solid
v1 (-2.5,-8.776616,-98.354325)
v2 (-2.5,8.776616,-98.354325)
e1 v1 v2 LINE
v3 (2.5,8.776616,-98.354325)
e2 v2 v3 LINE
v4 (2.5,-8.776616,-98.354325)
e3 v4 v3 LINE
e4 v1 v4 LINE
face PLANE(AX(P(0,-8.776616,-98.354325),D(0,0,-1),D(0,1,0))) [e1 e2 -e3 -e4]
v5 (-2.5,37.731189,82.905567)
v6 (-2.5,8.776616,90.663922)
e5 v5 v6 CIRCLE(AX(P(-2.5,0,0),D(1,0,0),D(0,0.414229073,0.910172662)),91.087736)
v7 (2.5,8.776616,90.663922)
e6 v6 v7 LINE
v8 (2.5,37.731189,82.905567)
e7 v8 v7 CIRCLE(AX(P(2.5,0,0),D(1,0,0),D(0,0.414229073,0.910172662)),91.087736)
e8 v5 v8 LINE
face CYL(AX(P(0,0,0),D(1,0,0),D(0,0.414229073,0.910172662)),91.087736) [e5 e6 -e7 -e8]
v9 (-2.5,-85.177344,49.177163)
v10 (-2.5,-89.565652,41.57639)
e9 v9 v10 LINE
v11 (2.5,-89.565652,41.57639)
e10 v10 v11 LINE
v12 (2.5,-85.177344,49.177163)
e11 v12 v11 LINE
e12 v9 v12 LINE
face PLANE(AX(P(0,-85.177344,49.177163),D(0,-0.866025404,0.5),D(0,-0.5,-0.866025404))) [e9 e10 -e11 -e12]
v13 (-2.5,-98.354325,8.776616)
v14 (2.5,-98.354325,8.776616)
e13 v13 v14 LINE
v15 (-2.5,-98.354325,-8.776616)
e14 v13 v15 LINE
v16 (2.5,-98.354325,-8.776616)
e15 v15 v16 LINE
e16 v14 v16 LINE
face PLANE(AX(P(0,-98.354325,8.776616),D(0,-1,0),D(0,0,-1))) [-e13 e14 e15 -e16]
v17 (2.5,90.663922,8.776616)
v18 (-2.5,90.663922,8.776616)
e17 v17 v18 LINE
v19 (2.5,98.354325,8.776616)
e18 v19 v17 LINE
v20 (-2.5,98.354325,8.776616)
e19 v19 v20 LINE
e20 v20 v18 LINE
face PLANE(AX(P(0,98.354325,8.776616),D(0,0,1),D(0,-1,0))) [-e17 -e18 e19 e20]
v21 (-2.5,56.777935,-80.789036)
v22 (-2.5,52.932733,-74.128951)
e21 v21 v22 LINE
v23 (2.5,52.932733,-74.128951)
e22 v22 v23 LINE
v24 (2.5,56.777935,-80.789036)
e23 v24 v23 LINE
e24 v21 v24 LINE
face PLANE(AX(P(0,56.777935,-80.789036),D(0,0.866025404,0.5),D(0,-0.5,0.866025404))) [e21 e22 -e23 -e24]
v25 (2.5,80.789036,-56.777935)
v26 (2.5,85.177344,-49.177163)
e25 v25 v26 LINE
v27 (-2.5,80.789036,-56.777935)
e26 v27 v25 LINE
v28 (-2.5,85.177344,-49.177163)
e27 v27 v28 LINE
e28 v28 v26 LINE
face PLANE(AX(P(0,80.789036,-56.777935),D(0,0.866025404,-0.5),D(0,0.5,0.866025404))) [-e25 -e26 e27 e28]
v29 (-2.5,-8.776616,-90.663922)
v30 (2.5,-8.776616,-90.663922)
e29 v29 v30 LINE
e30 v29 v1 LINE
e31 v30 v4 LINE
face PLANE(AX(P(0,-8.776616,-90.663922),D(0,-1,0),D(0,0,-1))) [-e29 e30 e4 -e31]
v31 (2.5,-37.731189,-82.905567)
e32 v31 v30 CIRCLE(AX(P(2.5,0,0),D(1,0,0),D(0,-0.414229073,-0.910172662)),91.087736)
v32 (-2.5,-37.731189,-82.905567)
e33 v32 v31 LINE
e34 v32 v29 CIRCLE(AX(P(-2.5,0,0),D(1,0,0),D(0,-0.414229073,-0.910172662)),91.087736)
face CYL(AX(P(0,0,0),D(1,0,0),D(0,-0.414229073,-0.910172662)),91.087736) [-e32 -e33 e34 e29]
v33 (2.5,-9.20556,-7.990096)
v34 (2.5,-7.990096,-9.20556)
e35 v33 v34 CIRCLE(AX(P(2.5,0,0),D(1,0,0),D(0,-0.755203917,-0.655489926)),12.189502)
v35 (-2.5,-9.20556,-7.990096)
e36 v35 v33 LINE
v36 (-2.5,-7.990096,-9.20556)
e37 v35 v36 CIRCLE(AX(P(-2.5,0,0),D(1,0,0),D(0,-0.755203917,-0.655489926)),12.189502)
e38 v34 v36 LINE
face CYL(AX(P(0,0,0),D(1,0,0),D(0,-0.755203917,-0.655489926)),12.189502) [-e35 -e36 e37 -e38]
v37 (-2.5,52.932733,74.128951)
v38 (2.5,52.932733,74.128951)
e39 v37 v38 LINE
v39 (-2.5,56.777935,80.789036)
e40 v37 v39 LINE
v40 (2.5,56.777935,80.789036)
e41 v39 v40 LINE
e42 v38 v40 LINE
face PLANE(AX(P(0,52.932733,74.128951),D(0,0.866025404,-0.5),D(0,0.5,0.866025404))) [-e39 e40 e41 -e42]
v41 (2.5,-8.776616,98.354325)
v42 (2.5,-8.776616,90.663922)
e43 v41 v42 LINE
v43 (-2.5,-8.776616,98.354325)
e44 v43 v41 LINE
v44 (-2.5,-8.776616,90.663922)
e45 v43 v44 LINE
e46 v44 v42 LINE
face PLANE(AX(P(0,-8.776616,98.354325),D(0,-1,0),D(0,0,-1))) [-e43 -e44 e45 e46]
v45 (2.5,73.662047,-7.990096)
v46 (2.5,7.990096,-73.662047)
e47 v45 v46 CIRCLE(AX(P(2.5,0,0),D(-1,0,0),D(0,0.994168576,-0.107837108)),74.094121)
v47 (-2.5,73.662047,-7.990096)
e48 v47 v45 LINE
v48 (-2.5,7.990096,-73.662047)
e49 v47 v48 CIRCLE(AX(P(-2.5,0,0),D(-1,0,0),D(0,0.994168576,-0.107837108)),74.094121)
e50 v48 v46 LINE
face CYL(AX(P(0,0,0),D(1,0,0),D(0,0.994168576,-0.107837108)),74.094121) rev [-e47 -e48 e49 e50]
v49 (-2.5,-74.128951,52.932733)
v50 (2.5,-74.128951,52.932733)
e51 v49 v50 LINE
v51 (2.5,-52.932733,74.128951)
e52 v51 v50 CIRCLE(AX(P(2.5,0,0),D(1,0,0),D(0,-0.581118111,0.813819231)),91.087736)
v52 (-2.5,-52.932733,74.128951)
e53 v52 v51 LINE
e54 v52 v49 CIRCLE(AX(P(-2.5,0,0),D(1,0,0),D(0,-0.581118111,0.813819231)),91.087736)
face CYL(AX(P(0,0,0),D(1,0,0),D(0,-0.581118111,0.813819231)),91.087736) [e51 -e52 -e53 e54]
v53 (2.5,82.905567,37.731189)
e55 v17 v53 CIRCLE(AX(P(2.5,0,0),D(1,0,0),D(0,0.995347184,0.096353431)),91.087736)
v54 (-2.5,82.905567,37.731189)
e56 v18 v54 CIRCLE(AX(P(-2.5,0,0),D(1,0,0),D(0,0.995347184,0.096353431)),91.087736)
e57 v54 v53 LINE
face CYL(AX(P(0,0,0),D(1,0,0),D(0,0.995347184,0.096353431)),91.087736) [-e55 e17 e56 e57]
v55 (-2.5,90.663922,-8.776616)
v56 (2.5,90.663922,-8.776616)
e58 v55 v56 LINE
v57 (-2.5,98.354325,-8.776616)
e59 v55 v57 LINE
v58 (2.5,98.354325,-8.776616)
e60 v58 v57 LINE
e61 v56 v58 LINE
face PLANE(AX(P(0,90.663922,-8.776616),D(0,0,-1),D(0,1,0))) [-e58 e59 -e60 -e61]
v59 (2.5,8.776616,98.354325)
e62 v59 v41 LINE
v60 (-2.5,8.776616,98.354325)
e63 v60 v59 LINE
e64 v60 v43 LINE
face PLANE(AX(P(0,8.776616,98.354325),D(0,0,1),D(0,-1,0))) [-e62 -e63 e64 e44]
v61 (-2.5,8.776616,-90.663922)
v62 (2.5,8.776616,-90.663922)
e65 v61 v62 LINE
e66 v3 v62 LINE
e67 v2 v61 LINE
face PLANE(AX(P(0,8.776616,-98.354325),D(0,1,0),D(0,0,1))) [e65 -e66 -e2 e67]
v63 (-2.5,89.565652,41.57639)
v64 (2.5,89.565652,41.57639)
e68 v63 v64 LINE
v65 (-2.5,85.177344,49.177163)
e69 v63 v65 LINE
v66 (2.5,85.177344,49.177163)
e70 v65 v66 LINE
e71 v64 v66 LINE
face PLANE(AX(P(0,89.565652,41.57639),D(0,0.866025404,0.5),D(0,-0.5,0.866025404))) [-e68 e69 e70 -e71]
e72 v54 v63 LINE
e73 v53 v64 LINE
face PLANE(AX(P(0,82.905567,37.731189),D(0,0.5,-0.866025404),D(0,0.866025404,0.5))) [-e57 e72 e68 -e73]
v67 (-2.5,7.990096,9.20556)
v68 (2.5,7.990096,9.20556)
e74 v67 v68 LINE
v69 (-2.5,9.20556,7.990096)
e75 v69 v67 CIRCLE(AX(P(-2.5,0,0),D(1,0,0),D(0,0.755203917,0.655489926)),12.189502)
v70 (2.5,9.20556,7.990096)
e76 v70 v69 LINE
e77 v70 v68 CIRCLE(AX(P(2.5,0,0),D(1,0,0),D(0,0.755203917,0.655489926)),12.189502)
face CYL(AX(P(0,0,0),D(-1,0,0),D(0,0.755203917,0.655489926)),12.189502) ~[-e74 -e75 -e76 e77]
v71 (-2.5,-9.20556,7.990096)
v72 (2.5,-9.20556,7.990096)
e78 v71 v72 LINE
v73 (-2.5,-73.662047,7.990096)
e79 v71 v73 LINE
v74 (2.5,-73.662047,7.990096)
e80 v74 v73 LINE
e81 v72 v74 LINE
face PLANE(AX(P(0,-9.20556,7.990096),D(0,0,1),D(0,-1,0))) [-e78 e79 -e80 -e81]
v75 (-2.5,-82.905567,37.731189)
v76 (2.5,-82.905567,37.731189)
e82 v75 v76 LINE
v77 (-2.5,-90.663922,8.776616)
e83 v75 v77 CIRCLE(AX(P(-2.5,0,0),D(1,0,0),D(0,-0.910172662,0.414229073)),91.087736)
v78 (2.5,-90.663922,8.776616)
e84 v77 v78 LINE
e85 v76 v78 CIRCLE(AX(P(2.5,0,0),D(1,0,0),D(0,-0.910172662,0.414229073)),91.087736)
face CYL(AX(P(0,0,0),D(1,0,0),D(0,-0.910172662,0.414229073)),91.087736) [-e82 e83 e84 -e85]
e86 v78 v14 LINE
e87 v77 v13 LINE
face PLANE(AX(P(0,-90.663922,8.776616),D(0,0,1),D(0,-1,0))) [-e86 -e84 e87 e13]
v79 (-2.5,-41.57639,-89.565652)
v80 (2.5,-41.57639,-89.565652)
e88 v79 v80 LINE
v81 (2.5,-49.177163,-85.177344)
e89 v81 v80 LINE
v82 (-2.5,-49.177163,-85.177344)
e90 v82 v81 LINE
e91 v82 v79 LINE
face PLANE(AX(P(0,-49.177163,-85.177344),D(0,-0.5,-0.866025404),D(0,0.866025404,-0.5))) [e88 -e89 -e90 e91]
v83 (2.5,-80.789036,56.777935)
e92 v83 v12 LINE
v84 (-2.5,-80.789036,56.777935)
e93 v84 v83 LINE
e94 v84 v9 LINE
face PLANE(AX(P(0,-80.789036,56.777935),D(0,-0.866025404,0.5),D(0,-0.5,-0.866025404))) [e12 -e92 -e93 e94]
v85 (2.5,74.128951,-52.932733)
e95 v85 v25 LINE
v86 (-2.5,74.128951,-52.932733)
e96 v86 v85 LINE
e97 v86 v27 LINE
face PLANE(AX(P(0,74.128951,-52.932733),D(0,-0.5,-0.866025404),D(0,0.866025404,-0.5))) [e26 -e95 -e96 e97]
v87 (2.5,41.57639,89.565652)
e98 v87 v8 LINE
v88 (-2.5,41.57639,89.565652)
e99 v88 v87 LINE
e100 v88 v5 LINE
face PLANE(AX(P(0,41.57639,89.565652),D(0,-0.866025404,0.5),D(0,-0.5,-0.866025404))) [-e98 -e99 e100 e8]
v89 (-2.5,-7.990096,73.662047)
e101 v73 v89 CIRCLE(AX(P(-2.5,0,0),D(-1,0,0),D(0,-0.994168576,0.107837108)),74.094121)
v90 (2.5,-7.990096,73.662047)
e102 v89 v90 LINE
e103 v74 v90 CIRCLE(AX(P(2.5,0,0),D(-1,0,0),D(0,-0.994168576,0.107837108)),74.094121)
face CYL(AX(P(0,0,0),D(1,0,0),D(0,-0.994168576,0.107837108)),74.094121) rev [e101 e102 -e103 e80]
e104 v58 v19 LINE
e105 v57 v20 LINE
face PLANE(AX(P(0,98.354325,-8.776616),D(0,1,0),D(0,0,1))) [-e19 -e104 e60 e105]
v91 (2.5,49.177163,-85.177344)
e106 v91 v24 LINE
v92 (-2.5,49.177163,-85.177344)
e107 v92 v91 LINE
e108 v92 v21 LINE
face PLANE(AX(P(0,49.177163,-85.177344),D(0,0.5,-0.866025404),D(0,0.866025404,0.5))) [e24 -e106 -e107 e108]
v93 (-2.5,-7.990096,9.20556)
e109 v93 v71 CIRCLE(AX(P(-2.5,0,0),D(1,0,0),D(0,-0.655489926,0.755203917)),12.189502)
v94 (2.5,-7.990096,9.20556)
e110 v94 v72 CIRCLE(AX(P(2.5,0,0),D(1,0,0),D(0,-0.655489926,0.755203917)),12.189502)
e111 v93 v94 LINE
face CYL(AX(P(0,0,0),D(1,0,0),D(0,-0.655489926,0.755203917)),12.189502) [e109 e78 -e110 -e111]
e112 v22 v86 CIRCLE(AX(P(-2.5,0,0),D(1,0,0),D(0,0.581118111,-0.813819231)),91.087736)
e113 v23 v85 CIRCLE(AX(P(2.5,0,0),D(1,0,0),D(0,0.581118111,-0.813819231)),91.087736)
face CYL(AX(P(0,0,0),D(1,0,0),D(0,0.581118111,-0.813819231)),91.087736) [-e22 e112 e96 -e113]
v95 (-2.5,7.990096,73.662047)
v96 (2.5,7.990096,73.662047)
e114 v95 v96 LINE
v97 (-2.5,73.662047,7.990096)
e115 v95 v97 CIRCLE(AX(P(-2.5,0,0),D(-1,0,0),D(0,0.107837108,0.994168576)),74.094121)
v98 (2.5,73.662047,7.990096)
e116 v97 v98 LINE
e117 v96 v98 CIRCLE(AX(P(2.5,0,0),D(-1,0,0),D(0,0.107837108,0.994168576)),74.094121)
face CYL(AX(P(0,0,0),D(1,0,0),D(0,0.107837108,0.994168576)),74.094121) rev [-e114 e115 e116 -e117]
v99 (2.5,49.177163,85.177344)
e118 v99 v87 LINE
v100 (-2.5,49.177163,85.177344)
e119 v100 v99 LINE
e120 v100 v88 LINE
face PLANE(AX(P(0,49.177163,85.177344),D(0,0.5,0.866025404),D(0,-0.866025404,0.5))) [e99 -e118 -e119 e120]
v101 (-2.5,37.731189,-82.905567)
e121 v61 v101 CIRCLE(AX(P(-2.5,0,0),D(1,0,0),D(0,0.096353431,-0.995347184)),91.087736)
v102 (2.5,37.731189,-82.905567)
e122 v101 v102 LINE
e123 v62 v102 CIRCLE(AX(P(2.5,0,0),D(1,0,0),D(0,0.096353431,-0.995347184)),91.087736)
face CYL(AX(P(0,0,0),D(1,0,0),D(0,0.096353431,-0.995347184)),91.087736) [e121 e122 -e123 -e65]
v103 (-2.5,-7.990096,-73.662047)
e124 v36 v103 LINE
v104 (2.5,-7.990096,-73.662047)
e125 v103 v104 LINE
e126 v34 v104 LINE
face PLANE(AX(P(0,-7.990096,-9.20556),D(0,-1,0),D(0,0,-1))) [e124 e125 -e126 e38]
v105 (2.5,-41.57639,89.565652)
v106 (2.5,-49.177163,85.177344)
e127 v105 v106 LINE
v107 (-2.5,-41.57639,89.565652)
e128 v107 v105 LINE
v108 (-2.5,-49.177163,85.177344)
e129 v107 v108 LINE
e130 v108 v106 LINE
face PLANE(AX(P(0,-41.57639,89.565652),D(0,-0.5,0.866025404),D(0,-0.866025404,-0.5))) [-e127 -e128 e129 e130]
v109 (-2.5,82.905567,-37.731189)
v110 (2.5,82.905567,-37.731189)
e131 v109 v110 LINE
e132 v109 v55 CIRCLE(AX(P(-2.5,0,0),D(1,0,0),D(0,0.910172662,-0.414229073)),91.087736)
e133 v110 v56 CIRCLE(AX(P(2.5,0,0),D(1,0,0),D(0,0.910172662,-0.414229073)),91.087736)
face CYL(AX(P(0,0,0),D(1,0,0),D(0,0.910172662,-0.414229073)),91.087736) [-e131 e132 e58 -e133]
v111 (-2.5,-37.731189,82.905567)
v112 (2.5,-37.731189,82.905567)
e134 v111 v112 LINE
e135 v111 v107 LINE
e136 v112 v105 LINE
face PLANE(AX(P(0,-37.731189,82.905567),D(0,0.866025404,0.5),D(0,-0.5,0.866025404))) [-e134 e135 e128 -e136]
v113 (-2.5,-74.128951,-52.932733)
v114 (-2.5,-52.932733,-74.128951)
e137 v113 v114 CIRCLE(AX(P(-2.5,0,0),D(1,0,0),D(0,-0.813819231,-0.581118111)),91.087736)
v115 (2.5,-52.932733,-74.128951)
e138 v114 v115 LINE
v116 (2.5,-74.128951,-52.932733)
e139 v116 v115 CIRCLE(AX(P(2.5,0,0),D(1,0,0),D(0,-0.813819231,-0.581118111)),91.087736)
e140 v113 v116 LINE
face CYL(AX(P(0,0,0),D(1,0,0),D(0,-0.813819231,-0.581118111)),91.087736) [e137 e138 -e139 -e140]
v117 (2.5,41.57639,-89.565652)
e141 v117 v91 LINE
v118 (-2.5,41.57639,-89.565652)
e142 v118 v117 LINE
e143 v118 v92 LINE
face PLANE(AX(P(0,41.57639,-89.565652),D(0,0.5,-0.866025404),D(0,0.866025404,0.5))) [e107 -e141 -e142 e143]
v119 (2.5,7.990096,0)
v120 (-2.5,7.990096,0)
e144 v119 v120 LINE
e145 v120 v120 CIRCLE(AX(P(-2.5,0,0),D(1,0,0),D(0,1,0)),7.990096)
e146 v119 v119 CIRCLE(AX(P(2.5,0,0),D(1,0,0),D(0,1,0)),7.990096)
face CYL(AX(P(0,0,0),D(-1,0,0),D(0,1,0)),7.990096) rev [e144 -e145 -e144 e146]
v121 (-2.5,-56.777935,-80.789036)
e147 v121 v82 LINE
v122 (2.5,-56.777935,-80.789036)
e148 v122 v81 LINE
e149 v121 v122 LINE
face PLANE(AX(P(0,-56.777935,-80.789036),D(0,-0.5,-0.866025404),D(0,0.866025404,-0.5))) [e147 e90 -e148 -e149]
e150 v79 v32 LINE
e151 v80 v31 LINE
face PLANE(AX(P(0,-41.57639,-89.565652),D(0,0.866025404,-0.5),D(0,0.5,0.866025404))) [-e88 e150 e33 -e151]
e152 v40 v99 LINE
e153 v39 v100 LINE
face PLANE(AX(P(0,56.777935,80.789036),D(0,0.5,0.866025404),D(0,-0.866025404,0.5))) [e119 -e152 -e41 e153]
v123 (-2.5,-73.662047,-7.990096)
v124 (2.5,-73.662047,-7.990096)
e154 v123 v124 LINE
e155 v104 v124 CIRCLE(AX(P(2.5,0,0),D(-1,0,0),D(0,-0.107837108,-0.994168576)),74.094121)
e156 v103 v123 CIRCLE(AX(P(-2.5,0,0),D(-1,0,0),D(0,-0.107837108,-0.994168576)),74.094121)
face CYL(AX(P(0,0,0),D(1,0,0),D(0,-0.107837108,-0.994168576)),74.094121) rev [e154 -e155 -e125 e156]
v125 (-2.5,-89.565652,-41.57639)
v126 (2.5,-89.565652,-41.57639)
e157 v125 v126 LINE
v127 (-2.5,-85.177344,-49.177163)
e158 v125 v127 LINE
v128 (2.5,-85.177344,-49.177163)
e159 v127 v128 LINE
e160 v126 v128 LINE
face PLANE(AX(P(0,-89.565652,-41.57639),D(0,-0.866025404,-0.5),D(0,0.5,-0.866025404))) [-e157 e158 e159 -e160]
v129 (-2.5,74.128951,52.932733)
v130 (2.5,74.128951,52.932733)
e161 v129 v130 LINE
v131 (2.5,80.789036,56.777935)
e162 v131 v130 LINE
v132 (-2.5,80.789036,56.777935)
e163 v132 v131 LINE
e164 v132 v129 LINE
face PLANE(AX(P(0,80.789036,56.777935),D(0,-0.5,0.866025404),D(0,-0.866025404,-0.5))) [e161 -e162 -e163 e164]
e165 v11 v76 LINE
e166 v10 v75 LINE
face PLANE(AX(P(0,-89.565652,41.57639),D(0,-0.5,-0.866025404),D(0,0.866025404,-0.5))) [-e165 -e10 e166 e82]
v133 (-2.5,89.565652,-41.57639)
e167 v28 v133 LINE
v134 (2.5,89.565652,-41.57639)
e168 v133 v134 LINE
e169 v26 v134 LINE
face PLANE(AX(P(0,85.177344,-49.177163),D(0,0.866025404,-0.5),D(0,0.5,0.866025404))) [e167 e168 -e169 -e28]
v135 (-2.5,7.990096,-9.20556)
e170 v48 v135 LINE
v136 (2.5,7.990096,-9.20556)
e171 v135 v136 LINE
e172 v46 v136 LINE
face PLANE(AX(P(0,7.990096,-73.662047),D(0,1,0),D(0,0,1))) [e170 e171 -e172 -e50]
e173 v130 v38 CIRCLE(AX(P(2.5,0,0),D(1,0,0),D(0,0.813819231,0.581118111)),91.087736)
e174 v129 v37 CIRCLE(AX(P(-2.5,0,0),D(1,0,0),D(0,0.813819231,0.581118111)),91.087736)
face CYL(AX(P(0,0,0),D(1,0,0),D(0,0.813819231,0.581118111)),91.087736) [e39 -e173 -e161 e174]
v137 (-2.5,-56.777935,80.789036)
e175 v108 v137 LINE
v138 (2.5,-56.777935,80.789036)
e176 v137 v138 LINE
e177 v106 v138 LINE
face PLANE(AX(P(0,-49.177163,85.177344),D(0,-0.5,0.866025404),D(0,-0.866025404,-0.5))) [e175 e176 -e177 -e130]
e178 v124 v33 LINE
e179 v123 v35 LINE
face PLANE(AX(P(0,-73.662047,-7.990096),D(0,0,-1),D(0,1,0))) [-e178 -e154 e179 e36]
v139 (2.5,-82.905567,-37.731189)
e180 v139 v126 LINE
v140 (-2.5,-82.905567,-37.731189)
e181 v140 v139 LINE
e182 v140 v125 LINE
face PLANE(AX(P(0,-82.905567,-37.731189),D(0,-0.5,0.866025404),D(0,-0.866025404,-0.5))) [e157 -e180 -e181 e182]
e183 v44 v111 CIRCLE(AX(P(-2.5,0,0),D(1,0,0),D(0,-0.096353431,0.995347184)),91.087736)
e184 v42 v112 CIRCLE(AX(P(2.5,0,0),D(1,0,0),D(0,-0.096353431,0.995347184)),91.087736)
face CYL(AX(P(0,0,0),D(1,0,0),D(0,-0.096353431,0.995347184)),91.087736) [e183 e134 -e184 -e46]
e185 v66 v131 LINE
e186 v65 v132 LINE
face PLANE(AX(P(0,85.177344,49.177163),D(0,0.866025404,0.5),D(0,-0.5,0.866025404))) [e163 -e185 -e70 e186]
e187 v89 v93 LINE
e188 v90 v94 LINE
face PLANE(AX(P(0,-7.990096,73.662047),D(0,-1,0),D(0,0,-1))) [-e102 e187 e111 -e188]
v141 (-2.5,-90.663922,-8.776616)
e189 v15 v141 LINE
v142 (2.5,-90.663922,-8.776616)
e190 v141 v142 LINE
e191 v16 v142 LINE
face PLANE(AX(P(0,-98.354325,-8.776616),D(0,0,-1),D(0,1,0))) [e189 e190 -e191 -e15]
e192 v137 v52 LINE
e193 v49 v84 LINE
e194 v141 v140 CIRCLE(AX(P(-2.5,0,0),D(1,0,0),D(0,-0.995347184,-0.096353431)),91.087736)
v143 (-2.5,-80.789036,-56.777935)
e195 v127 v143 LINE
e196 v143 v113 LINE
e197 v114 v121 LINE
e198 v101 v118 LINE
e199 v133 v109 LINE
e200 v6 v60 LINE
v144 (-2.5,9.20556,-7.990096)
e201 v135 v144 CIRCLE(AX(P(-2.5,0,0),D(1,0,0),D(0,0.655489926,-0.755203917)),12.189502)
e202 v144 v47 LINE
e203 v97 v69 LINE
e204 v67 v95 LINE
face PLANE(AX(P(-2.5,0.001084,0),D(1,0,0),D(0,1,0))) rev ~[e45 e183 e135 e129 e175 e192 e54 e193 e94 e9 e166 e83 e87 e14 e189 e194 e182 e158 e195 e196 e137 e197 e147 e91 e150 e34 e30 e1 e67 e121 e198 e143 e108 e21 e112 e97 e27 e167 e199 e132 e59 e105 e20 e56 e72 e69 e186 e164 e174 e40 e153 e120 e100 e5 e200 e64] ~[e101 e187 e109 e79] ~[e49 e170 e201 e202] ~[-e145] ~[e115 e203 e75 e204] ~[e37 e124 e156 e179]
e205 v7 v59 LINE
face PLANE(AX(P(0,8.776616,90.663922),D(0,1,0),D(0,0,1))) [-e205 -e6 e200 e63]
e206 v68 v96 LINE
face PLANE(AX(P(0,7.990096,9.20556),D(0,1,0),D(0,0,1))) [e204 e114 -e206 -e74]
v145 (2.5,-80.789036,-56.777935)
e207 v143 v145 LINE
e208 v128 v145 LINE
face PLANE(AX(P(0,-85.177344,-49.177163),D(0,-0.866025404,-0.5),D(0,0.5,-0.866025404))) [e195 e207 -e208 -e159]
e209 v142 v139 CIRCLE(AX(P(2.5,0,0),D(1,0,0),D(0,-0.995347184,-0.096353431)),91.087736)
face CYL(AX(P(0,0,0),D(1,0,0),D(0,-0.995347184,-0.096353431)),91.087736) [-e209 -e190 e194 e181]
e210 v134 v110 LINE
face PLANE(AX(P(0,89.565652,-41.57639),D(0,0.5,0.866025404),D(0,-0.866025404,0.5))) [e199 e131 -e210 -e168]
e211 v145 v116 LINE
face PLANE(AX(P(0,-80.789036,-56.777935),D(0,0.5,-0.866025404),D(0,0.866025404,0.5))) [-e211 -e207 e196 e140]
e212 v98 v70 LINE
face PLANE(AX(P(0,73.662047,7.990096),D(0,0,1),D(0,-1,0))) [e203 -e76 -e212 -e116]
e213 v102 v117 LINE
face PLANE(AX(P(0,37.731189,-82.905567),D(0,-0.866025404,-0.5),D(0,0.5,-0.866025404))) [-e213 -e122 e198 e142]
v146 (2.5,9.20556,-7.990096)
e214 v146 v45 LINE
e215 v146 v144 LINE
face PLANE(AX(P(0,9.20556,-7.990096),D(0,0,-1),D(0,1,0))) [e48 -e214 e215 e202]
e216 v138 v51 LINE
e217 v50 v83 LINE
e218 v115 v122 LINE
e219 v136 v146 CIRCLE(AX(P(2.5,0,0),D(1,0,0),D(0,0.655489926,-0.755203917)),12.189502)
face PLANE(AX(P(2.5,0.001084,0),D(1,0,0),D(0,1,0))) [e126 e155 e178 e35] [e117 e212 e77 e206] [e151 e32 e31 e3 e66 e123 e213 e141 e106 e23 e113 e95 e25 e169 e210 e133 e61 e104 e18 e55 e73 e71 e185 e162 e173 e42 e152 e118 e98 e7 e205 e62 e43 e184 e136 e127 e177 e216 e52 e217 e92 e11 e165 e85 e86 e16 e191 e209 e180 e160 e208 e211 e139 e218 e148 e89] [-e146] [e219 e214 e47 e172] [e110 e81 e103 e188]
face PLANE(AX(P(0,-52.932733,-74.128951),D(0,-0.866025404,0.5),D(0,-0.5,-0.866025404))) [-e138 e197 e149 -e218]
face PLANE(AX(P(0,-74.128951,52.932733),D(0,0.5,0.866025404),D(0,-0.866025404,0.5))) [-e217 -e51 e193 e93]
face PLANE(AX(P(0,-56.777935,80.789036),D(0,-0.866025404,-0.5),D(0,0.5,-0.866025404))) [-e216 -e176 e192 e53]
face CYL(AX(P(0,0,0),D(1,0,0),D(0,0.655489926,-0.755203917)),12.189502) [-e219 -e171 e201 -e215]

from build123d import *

# Parameters (mm, degrees)
F0_R     = 7.9900958087
F1_DEPTH = 2.5


with BuildPart() as f1:
    # F0 (on Right) → F1 (new body, symmetric)
    with BuildSketch(Plane.YZ):
        with BuildLine():
            ThreePointArc((90.663921699, -8.776615878), (90.9817208721, -4.3934213602), (91.0877361894, 0))
            ThreePointArc((91.0877361894, 0), (90.9817208721, 4.3934213602), (90.663921699, 8.776615878))
            ThreePointArc((90.663921699, 8.776615878), (87.9839968435, 23.5752409011), (82.905567337, 37.7311885399))
            ThreePointArc((82.905567337, 37.7311885399), (78.8842935132, 45.5438680947), (74.128951459, 52.932733159))
            ThreePointArc((74.128951459, 52.932733159), (64.4087559424, 64.4087559424), (52.932733159, 74.128951459))
            ThreePointArc((52.932733159, 74.128951459), (45.5438680947, 78.8842935132), (37.7311885399, 82.905567337))
            ThreePointArc((37.7311885399, 82.905567337), (23.5752409011, 87.9839968435), (8.776615878, 90.663921699))
            ThreePointArc((8.776615878, 90.663921699), (0, 91.0877361894), (-8.776615878, 90.663921699))
            ThreePointArc((-8.776615878, 90.663921699), (-23.5752409011, 87.9839968435), (-37.7311885399, 82.905567337))
            ThreePointArc((-37.7311885399, 82.905567337), (-45.5438680947, 78.8842935132), (-52.932733159, 74.128951459))
            ThreePointArc((-52.932733159, 74.128951459), (-64.4087559424, 64.4087559424), (-74.128951459, 52.932733159))
            ThreePointArc((-74.128951459, 52.932733159), (-78.8842935132, 45.5438680947), (-82.905567337, 37.7311885399))
            ThreePointArc((-82.905567337, 37.7311885399), (-87.9839968435, 23.5752409011), (-90.663921699, 8.776615878))
            ThreePointArc((-90.663921699, 8.776615878), (-91.0877361894, 0), (-90.663921699, -8.776615878))
            ThreePointArc((-90.663921699, -8.776615878), (-87.9839968435, -23.5752409011), (-82.905567337, -37.7311885399))
            ThreePointArc((-82.905567337, -37.7311885399), (-78.8842935132, -45.5438680947), (-74.128951459, -52.932733159))
            ThreePointArc((-74.128951459, -52.932733159), (-64.4087559424, -64.4087559424), (-52.932733159, -74.128951459))
            ThreePointArc((-52.932733159, -74.128951459), (-45.5438680947, -78.8842935132), (-37.7311885399, -82.905567337))
            ThreePointArc((-37.7311885399, -82.905567337), (-23.5752409011, -87.9839968435), (-8.776615878, -90.663921699))
            ThreePointArc((-8.776615878, -90.663921699), (0, -91.0877361894), (8.776615878, -90.663921699))
            ThreePointArc((8.776615878, -90.663921699), (23.5752409011, -87.9839968435), (37.7311885399, -82.905567337))
            ThreePointArc((37.7311885399, -82.905567337), (45.5438680947, -78.8842935132), (52.932733159, -74.128951459))
            ThreePointArc((52.932733159, -74.128951459), (64.4087559424, -64.4087559424), (74.128951459, -52.932733159))
            ThreePointArc((74.128951459, -52.932733159), (78.8842935132, -45.5438680947), (82.905567337, -37.7311885399))
            ThreePointArc((82.905567337, -37.7311885399), (87.9839968435, -23.5752409011), (90.663921699, -8.776615878))
        make_face()
        with BuildLine():
            ThreePointArc((7.9900958087, 73.6620471974), (52.392455699, 52.392455699), (73.6620471974, 7.9900958087))
            ThreePointArc((73.6620471974, 7.9900958087), (73.9860240083, 4.0008848759), (74.0941214156, 0))
            ThreePointArc((74.0941214156, 0), (73.9860240083, -4.0008848759), (73.6620471974, -7.9900958087))
            ThreePointArc((73.6620471974, -7.9900958087), (52.392455699, -52.392455699), (7.9900958087, -73.6620471974))
            ThreePointArc((7.9900958087, -73.6620471974), (0, -74.0941214156), (-7.9900958087, -73.6620471974))
            ThreePointArc((-7.9900958087, -73.6620471974), (-52.392455699, -52.392455699), (-73.6620471974, -7.9900958087))
            ThreePointArc((-73.6620471974, -7.9900958087), (-74.0941214156, 0), (-73.6620471974, 7.9900958087))
            ThreePointArc((-73.6620471974, 7.9900958087), (-52.392455699, 52.392455699), (-7.9900958087, 73.6620471974))
            ThreePointArc((-7.9900958087, 73.6620471974), (0, 74.0941214156), (7.9900958087, 73.6620471974))
        make_face(mode=Mode.SUBTRACT)
        with BuildLine():
            ThreePointArc((-7.9900958087, 9.2055597007), (0, 12.1895020586), (7.9900958087, 9.2055597007))
            Line((7.9900958087, 9.2055597007), (7.9900958087, 73.6620471974))
            ThreePointArc((7.9900958087, 73.6620471974), (0, 74.0941214156), (-7.9900958087, 73.6620471974))
            Line((-7.9900958087, 73.6620471974), (-7.9900958087, 9.2055597007))
        make_face()
        with BuildLine():
            ThreePointArc((-9.2055597007, -7.9900958087), (-12.1895020586, 0), (-9.2055597007, 7.9900958087))
            Line((-9.2055597007, 7.9900958087), (-73.6620471974, 7.9900958087))
            ThreePointArc((-73.6620471974, 7.9900958087), (-74.0941214156, 0), (-73.6620471974, -7.9900958087))
            Line((-73.6620471974, -7.9900958087), (-9.2055597007, -7.9900958087))
        make_face()
        with BuildLine():
            ThreePointArc((9.2055597007, 7.9900958087), (11.4191757443, 4.2645498891), (12.1895020586, 0))
            ThreePointArc((12.1895020586, 0), (11.4191757443, -4.2645498891), (9.2055597007, -7.9900958087))
            Line((9.2055597007, -7.9900958087), (73.6620471974, -7.9900958087))
            ThreePointArc((73.6620471974, -7.9900958087), (73.9860240083, -4.0008848759), (74.0941214156, 0))
            ThreePointArc((74.0941214156, 0), (73.9860240083, 4.0008848759), (73.6620471974, 7.9900958087))
            Line((73.6620471974, 7.9900958087), (9.2055597007, 7.9900958087))
        make_face()
        with BuildLine():
            Line((7.9900958087, -73.6620471974), (7.9900958087, -9.2055597007))
            ThreePointArc((7.9900958087, -9.2055597007), (0, -12.1895020586), (-7.9900958087, -9.2055597007))
            Line((-7.9900958087, -9.2055597007), (-7.9900958087, -73.6620471974))
            ThreePointArc((-7.9900958087, -73.6620471974), (0, -74.0941214156), (7.9900958087, -73.6620471974))
        make_face()
        with BuildLine():
            ThreePointArc((9.2055597007, -7.9900958087), (11.4191757443, -4.2645498891), (12.1895020586, 0))
            ThreePointArc((12.1895020586, 0), (11.4191757443, 4.2645498891), (9.2055597007, 7.9900958087))
            ThreePointArc((9.2055597007, 7.9900958087), (8.6192795649, 8.6192795649), (7.9900958087, 9.2055597007))
            ThreePointArc((7.9900958087, 9.2055597007), (0, 12.1895020586), (-7.9900958087, 9.2055597007))
            ThreePointArc((-7.9900958087, 9.2055597007), (-8.6192795649, 8.6192795649), (-9.2055597007, 7.9900958087))
            ThreePointArc((-9.2055597007, 7.9900958087), (-12.1895020586, 0), (-9.2055597007, -7.9900958087))
            ThreePointArc((-9.2055597007, -7.9900958087), (-8.6192795649, -8.6192795649), (-7.9900958087, -9.2055597007))
            ThreePointArc((-7.9900958087, -9.2055597007), (0, -12.1895020586), (7.9900958087, -9.2055597007))
            ThreePointArc((7.9900958087, -9.2055597007), (8.6192795649, -8.6192795649), (9.2055597007, -7.9900958087))
        make_face()
        Circle(F0_R, mode=Mode.SUBTRACT)
        with BuildLine():
            ThreePointArc((-8.776615878, 90.663921699), (0, 91.0877361894), (8.776615878, 90.663921699))
            Line((8.776615878, 90.663921699), (8.776615878, 98.354325348))
            Line((8.776615878, 98.354325348), (0, 98.354325348))
            Line((0, 98.354325348), (-8.776615878, 98.354325348))
            Line((-8.776615878, 98.354325348), (-8.776615878, 90.663921699))
        make_face()
        with BuildLine():
            ThreePointArc((37.7311885399, 82.905567337), (45.5438680947, 78.8842935132), (52.932733159, 74.128951459))
            Line((52.932733159, 74.128951459), (56.7779349836, 80.7890363845))
            Line((56.7779349836, 80.7890363845), (49.177162674, 85.1773443235))
            Line((49.177162674, 85.1773443235), (41.5763903644, 89.5656522624))
            Line((41.5763903644, 89.5656522624), (37.7311885399, 82.905567337))
        make_face()
        with BuildLine():
            ThreePointArc((74.128951459, 52.932733159), (78.8842935132, 45.5438680947), (82.905567337, 37.7311885399))
            Line((82.905567337, 37.7311885399), (89.5656522624, 41.5763903644))
            Line((89.5656522624, 41.5763903644), (85.1773443235, 49.177162674))
            Line((85.1773443235, 49.177162674), (80.7890363845, 56.7779349836))
            Line((80.7890363845, 56.7779349836), (74.128951459, 52.932733159))
        make_face()
        with BuildLine():
            ThreePointArc((90.663921699, 8.776615878), (90.9817208721, 4.3934213602), (91.0877361894, 0))
            ThreePointArc((91.0877361894, 0), (90.9817208721, -4.3934213602), (90.663921699, -8.776615878))
            Line((90.663921699, -8.776615878), (98.354325348, -8.776615878))
            Line((98.354325348, -8.776615878), (98.354325348, 0))
            Line((98.354325348, 0), (98.354325348, 8.776615878))
            Line((98.354325348, 8.776615878), (90.663921699, 8.776615878))
        make_face()
        with BuildLine():
            Line((89.5656522624, -41.5763903644), (82.905567337, -37.7311885399))
            ThreePointArc((82.905567337, -37.7311885399), (78.8842935132, -45.5438680947), (74.128951459, -52.932733159))
            Line((74.128951459, -52.932733159), (80.7890363845, -56.7779349836))
            Line((80.7890363845, -56.7779349836), (85.1773443235, -49.177162674))
            Line((85.1773443235, -49.177162674), (89.5656522624, -41.5763903644))
        make_face()
        with BuildLine():
            Line((56.7779349836, -80.7890363845), (52.932733159, -74.128951459))
            ThreePointArc((52.932733159, -74.128951459), (45.5438680947, -78.8842935132), (37.7311885399, -82.905567337))
            Line((37.7311885399, -82.905567337), (41.5763903644, -89.5656522624))
            Line((41.5763903644, -89.5656522624), (49.177162674, -85.1773443235))
            Line((49.177162674, -85.1773443235), (56.7779349836, -80.7890363845))
        make_face()
        with BuildLine():
            Line((8.776615878, -98.354325348), (8.776615878, -90.663921699))
            ThreePointArc((8.776615878, -90.663921699), (0, -91.0877361894), (-8.776615878, -90.663921699))
            Line((-8.776615878, -90.663921699), (-8.776615878, -98.354325348))
            Line((-8.776615878, -98.354325348), (0, -98.354325348))
            Line((0, -98.354325348), (8.776615878, -98.354325348))
        make_face()
        with BuildLine():
            Line((-41.5763903644, -89.5656522624), (-37.7311885399, -82.905567337))
            ThreePointArc((-37.7311885399, -82.905567337), (-45.5438680947, -78.8842935132), (-52.932733159, -74.128951459))
            Line((-52.932733159, -74.128951459), (-56.7779349836, -80.7890363845))
            Line((-56.7779349836, -80.7890363845), (-49.177162674, -85.1773443235))
            Line((-49.177162674, -85.1773443235), (-41.5763903644, -89.5656522624))
        make_face()
        with BuildLine():
            Line((-80.7890363845, -56.7779349836), (-74.128951459, -52.932733159))
            ThreePointArc((-74.128951459, -52.932733159), (-78.8842935132, -45.5438680947), (-82.905567337, -37.7311885399))
            Line((-82.905567337, -37.7311885399), (-89.5656522624, -41.5763903644))
            Line((-89.5656522624, -41.5763903644), (-85.1773443235, -49.177162674))
            Line((-85.1773443235, -49.177162674), (-80.7890363845, -56.7779349836))
        make_face()
        with BuildLine():
            ThreePointArc((-90.663921699, -8.776615878), (-91.0877361894, 0), (-90.663921699, 8.776615878))
            Line((-90.663921699, 8.776615878), (-98.354325348, 8.776615878))
            Line((-98.354325348, 8.776615878), (-98.354325348, 0))
            Line((-98.354325348, 0), (-98.354325348, -8.776615878))
            Line((-98.354325348, -8.776615878), (-90.663921699, -8.776615878))
        make_face()
        with BuildLine():
            ThreePointArc((-82.905567337, 37.7311885399), (-78.8842935132, 45.5438680947), (-74.128951459, 52.932733159))
            Line((-74.128951459, 52.932733159), (-80.7890363845, 56.7779349836))
            Line((-80.7890363845, 56.7779349836), (-85.1773443235, 49.177162674))
            Line((-85.1773443235, 49.177162674), (-89.5656522624, 41.5763903644))
            Line((-89.5656522624, 41.5763903644), (-82.905567337, 37.7311885399))
        make_face()
        with BuildLine():
            ThreePointArc((-52.932733159, 74.128951459), (-45.5438680947, 78.8842935132), (-37.7311885399, 82.905567337))
            Line((-37.7311885399, 82.905567337), (-41.5763903644, 89.5656522624))
            Line((-41.5763903644, 89.5656522624), (-49.177162674, 85.1773443235))
            Line((-49.177162674, 85.1773443235), (-56.7779349836, 80.7890363845))
            Line((-56.7779349836, 80.7890363845), (-52.932733159, 74.128951459))
        make_face()
    extrude(amount=F1_DEPTH, both=True)


solid = f1.part
